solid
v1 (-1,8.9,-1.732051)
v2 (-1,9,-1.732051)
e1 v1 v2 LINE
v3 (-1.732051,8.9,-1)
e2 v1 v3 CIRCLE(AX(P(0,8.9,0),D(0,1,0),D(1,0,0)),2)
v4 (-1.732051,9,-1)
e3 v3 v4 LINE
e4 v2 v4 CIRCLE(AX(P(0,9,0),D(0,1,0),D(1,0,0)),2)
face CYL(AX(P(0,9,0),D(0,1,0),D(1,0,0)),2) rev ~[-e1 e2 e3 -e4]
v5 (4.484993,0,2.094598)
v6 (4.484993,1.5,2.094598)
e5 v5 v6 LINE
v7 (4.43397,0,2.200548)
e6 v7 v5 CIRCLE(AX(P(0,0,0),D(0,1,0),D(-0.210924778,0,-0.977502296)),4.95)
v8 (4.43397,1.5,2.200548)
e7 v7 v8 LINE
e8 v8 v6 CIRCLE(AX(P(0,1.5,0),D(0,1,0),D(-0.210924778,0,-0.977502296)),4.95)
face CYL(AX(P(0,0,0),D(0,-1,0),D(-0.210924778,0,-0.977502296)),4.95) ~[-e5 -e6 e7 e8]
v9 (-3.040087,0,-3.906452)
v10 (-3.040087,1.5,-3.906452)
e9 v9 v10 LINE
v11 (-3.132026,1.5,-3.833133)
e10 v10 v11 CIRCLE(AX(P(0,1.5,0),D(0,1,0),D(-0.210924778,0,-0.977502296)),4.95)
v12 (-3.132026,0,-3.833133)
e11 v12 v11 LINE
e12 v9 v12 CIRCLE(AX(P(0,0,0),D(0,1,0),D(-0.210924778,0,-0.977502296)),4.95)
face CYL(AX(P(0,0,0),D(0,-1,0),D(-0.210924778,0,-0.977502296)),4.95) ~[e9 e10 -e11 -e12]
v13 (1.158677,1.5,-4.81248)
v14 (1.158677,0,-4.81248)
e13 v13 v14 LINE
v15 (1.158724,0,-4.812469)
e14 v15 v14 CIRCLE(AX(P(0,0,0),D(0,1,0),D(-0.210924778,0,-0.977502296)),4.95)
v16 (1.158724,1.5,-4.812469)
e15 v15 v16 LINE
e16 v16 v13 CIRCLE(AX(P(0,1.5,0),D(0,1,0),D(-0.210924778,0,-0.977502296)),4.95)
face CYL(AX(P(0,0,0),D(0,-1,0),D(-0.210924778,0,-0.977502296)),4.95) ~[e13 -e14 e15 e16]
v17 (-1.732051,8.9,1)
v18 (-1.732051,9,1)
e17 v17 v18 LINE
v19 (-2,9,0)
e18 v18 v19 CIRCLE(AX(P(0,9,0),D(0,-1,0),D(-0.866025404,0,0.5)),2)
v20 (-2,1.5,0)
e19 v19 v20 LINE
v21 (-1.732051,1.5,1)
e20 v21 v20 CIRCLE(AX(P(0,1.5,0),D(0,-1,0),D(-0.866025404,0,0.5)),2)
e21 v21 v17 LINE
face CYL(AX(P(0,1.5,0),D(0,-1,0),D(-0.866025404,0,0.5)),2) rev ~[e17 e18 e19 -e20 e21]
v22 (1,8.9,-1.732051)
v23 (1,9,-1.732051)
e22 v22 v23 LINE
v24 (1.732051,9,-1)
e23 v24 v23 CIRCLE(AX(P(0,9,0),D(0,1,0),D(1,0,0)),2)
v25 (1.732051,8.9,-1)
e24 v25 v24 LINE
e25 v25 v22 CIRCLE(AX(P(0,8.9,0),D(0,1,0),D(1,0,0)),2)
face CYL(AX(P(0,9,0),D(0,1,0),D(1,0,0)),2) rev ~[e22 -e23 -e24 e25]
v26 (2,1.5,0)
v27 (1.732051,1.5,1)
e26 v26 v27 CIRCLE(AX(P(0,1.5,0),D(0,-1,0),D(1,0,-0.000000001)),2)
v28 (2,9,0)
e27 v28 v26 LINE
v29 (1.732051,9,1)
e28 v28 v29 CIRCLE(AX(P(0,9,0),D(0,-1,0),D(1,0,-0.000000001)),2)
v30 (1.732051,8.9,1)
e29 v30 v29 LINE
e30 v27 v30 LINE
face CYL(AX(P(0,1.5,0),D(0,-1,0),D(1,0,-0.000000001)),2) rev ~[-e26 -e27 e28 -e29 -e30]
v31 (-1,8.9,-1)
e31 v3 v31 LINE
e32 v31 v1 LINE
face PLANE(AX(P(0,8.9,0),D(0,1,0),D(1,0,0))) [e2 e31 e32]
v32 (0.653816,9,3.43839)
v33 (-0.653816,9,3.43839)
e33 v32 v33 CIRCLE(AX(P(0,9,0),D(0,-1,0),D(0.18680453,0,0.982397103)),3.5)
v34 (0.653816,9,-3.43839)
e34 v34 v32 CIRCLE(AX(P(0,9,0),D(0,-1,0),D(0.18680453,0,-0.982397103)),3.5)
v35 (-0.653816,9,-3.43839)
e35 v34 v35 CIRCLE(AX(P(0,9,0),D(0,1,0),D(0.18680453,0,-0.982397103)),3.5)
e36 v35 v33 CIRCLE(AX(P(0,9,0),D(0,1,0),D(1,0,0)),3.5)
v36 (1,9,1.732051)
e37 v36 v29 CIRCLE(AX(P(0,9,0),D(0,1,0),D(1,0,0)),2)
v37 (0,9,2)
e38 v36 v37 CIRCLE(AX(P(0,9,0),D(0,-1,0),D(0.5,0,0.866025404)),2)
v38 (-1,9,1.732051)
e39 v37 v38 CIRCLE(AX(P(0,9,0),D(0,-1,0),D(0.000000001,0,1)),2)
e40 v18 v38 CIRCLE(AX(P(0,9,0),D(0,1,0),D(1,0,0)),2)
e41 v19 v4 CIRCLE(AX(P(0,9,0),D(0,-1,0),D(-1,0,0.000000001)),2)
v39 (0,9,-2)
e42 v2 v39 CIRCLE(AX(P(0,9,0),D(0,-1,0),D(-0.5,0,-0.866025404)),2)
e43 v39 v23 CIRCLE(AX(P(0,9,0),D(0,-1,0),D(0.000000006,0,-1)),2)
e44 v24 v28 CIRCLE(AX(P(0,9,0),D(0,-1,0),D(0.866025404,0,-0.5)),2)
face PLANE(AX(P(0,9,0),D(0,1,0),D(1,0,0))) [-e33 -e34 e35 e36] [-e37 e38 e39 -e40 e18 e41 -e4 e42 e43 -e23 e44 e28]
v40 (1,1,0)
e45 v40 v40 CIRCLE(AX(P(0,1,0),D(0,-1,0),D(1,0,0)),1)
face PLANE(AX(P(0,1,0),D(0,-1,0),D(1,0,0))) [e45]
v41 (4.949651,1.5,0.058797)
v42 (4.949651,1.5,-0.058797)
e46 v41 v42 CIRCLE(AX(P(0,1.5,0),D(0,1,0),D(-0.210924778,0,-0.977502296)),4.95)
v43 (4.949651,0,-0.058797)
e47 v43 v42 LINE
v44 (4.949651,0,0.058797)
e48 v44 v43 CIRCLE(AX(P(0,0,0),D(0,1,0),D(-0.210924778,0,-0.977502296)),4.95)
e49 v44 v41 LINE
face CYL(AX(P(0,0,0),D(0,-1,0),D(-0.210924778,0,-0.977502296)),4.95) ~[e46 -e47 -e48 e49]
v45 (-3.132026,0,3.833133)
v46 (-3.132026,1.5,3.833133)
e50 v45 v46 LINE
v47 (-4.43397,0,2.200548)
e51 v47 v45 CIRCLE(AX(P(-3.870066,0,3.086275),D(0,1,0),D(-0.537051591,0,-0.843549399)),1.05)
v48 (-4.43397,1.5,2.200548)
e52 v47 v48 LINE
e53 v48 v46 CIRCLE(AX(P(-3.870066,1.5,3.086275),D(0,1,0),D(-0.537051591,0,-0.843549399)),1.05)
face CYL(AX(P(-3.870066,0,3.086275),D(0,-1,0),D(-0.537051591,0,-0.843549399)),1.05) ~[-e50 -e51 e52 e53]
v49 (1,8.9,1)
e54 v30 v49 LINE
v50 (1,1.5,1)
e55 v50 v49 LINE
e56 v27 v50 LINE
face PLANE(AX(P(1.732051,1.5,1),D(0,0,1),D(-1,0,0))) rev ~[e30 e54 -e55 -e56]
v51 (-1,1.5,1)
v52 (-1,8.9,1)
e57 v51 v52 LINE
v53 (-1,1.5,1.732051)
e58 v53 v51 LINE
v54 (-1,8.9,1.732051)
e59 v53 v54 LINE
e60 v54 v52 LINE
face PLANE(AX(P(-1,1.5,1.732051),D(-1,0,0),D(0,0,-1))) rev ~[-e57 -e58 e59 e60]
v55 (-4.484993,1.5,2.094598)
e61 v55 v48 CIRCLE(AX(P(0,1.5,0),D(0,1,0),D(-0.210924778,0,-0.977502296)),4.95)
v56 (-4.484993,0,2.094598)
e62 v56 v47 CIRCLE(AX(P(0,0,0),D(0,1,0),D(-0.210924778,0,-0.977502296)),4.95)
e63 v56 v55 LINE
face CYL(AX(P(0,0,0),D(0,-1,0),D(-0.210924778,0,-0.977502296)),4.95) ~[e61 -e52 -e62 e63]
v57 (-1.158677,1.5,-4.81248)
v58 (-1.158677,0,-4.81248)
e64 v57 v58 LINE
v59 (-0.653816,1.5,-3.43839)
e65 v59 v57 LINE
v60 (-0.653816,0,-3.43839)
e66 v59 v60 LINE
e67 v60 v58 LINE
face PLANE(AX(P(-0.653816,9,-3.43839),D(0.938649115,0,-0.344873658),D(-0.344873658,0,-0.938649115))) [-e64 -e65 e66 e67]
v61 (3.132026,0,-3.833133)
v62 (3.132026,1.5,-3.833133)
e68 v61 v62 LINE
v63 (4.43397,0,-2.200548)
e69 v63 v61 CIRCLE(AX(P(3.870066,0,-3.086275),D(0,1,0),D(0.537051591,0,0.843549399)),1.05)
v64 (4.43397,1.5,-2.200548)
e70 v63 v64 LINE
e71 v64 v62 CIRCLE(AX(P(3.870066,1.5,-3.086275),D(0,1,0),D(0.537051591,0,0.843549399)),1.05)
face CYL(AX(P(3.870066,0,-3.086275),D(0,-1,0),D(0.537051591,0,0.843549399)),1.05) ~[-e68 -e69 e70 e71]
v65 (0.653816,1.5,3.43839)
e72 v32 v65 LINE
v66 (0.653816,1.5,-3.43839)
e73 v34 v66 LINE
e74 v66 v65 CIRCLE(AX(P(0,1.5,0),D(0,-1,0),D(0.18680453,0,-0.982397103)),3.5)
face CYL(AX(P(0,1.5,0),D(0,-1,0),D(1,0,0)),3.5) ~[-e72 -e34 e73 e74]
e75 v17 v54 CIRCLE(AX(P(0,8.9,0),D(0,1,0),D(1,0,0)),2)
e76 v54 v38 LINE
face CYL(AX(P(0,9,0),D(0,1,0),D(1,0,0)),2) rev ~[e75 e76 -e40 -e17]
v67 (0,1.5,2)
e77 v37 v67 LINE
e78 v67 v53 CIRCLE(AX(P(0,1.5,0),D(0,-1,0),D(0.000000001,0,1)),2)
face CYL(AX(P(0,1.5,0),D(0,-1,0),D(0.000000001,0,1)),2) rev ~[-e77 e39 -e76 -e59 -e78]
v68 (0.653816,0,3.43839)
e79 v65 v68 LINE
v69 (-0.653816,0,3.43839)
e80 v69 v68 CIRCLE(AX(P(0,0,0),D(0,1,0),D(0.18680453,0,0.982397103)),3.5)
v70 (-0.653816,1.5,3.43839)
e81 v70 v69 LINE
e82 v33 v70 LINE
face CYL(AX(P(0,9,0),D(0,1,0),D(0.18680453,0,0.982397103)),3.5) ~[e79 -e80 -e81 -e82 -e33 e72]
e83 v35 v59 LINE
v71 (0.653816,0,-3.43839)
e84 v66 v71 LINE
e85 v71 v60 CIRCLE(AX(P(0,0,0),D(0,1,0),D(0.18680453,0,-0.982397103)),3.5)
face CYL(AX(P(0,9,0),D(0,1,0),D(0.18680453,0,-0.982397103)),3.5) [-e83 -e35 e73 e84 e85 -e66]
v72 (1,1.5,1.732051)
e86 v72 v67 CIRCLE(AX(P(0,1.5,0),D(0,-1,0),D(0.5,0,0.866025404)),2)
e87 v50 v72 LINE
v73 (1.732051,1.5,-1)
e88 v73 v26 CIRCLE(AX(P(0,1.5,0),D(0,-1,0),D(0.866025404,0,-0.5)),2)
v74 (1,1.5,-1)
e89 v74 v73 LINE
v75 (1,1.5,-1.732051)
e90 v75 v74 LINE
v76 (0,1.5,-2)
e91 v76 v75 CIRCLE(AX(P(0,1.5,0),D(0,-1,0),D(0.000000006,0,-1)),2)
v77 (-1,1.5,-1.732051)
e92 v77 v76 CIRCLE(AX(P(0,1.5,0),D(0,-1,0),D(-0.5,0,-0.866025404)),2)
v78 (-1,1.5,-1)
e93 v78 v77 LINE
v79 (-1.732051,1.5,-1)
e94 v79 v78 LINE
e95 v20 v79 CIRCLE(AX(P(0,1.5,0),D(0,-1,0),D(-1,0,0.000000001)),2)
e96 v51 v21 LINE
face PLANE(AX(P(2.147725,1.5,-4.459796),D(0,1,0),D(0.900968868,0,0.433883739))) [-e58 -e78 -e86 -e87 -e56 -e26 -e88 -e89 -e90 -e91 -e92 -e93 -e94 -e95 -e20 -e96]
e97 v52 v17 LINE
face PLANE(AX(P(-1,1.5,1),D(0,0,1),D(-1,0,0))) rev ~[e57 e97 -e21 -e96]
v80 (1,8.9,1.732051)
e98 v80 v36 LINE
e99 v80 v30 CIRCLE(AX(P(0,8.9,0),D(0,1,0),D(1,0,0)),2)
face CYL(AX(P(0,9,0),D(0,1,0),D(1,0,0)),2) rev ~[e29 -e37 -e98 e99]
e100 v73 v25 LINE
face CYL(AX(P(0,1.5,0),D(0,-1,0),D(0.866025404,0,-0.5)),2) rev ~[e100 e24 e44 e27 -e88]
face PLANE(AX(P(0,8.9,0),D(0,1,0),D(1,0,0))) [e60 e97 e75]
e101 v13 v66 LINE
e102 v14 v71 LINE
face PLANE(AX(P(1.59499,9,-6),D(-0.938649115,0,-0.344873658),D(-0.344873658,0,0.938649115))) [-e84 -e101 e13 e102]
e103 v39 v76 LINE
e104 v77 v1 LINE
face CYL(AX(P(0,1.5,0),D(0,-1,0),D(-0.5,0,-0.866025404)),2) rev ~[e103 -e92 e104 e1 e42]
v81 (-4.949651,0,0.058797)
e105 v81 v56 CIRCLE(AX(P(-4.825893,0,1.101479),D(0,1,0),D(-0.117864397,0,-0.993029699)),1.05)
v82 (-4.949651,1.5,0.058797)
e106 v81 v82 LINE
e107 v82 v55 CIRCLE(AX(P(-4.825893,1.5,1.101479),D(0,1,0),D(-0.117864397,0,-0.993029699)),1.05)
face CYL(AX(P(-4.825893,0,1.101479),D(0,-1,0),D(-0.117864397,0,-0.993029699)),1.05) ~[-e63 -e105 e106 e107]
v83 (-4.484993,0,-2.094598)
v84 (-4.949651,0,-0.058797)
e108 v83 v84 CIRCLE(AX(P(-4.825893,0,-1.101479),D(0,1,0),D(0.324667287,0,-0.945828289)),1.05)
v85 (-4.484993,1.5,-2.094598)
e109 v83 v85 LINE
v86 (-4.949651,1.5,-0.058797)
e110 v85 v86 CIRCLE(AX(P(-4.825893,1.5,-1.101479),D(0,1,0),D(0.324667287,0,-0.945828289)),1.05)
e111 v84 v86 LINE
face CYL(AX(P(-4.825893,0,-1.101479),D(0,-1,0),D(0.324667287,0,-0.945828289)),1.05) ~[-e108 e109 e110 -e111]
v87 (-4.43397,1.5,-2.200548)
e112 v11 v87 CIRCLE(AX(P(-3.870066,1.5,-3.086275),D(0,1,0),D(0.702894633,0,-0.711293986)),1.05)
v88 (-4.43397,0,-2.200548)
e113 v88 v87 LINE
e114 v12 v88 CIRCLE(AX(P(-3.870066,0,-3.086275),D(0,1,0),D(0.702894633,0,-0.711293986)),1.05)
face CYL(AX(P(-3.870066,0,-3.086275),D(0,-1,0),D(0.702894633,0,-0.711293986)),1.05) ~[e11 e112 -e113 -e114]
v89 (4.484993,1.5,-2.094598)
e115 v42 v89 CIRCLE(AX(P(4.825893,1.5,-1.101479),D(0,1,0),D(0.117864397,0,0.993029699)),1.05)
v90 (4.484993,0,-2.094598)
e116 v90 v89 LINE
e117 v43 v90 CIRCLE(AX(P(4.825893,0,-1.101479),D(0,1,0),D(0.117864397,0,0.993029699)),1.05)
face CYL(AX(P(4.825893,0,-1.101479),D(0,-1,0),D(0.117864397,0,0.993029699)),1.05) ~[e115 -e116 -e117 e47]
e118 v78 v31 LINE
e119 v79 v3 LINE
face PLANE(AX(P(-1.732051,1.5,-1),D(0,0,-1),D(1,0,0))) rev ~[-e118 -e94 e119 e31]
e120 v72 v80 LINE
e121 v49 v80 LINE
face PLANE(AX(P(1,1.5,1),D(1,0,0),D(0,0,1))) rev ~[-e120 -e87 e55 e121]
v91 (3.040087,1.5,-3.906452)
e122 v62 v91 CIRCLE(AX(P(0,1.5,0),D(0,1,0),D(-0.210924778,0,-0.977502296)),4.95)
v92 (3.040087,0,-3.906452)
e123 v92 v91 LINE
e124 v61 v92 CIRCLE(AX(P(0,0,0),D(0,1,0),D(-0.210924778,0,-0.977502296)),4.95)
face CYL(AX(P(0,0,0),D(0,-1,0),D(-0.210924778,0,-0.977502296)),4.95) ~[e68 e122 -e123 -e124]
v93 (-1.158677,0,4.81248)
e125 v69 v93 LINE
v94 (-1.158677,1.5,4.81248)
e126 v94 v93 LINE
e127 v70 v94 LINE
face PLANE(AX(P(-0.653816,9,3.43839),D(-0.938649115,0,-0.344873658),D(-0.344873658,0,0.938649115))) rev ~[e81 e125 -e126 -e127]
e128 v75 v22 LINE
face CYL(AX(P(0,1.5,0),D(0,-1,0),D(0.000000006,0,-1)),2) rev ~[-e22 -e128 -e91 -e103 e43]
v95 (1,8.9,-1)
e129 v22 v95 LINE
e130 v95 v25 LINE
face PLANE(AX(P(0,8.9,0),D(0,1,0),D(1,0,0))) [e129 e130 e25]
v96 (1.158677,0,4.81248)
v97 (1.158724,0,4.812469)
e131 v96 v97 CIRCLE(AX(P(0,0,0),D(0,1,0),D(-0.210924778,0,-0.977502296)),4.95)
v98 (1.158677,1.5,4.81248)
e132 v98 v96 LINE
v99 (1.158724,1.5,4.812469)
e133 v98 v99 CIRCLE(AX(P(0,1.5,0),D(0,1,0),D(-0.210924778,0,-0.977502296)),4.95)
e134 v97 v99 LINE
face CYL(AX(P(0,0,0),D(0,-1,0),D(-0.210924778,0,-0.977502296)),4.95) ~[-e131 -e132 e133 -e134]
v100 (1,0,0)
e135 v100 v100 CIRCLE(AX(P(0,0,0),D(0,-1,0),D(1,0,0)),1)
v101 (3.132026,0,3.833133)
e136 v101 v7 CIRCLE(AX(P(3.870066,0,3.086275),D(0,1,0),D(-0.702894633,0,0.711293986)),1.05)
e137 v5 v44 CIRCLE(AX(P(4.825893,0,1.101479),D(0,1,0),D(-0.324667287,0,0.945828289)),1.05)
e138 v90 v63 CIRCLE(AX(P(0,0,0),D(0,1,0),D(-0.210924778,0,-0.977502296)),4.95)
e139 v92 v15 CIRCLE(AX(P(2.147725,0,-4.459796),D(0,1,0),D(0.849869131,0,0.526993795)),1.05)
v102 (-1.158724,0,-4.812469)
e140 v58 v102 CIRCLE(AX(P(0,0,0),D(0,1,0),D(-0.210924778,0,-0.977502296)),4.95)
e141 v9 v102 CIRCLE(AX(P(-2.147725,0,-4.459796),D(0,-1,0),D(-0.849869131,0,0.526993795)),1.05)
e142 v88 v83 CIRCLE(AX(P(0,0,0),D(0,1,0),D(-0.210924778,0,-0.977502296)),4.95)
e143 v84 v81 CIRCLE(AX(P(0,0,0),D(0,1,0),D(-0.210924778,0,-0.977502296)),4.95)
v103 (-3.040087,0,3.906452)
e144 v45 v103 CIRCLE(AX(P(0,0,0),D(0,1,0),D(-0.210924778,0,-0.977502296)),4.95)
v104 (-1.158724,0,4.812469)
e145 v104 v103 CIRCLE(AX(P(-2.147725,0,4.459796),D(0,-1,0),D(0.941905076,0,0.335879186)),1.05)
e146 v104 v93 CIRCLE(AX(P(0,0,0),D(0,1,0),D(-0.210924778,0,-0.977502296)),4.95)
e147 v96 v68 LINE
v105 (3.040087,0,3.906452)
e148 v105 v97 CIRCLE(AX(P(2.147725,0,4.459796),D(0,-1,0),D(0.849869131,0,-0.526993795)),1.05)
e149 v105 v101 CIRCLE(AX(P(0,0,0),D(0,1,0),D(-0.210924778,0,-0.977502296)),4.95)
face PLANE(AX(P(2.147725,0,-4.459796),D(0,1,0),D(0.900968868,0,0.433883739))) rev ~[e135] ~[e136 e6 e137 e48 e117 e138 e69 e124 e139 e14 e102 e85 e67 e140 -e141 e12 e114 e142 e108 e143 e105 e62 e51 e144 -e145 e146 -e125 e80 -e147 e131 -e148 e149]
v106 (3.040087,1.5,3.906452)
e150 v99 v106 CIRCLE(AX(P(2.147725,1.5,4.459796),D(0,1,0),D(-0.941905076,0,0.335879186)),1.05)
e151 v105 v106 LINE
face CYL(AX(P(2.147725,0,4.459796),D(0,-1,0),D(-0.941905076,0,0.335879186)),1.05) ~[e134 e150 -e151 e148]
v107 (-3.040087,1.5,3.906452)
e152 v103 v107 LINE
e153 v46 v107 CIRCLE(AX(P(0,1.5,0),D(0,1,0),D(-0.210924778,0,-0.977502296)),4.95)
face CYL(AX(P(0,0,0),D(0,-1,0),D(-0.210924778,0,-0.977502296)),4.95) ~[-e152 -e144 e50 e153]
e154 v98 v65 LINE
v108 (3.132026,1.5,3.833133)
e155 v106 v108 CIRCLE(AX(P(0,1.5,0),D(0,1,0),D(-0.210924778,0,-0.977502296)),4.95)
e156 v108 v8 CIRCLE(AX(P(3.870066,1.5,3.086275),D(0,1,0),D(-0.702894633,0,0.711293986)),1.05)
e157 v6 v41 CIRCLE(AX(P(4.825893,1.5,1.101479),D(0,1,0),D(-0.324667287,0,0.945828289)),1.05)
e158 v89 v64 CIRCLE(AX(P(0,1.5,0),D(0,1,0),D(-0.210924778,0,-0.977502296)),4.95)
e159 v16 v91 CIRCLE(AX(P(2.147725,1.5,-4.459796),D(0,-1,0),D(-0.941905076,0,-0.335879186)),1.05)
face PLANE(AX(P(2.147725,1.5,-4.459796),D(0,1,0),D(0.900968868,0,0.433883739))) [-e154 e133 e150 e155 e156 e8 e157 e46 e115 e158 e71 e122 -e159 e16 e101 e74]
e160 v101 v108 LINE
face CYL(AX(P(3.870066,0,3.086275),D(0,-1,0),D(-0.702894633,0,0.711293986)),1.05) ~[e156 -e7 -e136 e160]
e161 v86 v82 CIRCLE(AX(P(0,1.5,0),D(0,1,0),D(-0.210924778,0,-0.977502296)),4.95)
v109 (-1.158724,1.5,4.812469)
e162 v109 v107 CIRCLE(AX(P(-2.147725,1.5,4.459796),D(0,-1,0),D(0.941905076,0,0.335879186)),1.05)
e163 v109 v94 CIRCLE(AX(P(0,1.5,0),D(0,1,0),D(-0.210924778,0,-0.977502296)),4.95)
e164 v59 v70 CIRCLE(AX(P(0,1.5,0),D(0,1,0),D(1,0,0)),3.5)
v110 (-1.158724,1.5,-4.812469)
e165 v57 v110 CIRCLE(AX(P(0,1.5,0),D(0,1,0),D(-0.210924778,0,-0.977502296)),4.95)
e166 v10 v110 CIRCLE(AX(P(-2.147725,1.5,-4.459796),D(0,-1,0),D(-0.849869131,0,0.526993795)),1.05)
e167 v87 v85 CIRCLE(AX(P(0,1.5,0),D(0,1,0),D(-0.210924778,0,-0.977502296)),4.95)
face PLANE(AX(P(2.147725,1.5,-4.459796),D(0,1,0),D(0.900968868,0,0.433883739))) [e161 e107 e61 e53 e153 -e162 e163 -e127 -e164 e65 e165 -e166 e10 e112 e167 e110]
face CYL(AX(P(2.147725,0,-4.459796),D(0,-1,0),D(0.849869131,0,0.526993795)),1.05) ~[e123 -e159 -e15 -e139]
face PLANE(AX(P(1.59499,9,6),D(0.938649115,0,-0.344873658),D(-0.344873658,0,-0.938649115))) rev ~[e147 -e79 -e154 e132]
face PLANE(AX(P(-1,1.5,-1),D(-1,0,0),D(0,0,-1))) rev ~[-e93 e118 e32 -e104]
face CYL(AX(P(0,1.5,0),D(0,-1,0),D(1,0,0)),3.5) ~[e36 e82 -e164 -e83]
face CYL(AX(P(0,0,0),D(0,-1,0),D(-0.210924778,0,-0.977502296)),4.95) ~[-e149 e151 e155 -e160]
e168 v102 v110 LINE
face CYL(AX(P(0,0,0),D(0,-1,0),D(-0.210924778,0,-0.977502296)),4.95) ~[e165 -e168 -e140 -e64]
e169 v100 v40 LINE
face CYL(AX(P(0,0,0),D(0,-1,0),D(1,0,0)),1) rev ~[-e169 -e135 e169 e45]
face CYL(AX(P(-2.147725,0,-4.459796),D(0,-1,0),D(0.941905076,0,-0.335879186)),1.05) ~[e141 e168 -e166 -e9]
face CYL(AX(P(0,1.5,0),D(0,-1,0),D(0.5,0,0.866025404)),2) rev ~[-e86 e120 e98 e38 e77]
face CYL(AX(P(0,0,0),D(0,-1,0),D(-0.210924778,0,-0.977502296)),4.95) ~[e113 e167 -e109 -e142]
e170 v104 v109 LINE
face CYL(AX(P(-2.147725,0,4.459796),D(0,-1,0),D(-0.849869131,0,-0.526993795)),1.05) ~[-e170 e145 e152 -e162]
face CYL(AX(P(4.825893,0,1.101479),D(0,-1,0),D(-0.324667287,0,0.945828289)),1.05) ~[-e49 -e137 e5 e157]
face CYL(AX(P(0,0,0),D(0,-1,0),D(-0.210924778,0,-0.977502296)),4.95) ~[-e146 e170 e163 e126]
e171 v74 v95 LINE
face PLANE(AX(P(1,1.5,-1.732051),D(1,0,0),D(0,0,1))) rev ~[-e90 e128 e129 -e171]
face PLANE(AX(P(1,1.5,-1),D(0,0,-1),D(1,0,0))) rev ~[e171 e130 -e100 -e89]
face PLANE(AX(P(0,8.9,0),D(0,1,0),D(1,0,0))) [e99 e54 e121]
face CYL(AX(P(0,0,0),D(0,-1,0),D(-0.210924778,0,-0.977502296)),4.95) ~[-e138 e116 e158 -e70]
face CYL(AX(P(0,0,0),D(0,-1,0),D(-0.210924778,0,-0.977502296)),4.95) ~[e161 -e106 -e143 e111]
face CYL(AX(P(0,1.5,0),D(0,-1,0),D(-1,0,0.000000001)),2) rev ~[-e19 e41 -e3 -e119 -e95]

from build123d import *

# Parameters (mm, degrees)
SKETCH1_R               = 1.05
SKETCH1_R_2             = 4.95
BOSS_EXTRUDE1_DEPTH     = 1.5
CIRPATTERN1_COUNT       = 14
SKETCH2_R               = 3.5
SKETCH2_R_2             = 2
SKETCH2_W               = 2
SKETCH2_H               = 4
SKETCH2_W_2             = 4
SKETCH2_H_2             = 2
BOSS_EXTRUDE2_DEPTH     = 7.5
SKETCH3_R               = 2
CUT_EXTRUDE1_DEPTH      = 0.1
SKETCH4_R               = 1
CUT_EXTRUDE2_DEPTH      = 1
CUT_EXTRUDE3_DEPTH      = 1
CUT_EXTRUDE3_DEPTH_BACK = 10


with BuildPart() as part:
    # Sketch1 → Boss-Extrude1 (new body)
    with BuildSketch(Plane(origin=(0, 0, 0), x_dir=(1, 0, 0), z_dir=(0, 1, 0))):
        with Locations((0, 4.95)):
            Circle(SKETCH1_R)
        Circle(SKETCH1_R_2)
    boss_extrude1 = extrude(amount=BOSS_EXTRUDE1_DEPTH)

    # CirPattern1: Boss-Extrude1 ×14 about axis
    cirpattern1_axis = Axis((0, 0, 0), (0, 1, 0))
    for i in range(1, CIRPATTERN1_COUNT):
        add(boss_extrude1.rotate(cirpattern1_axis, i * 360 / CIRPATTERN1_COUNT))

    # Sketch2 → Boss-Extrude2 (add)
    with BuildSketch(Plane(origin=(0, 1.5, 0), x_dir=(1, 0, 0), z_dir=(0, 1, 0))):
        Circle(SKETCH2_R)
        Circle(SKETCH2_R_2, mode=Mode.SUBTRACT)
        Rectangle(SKETCH2_W, SKETCH2_H, mode=Mode.SUBTRACT)
        Rectangle(SKETCH2_W_2, SKETCH2_H_2, mode=Mode.SUBTRACT)
        with BuildLine():
            ThreePointArc((-1, 1.732050808), (-0.517638086, 1.931851654), (9e-09, 2))
            Line((9e-09, 2), (-1, 2))
            Line((-1, 2), (-1, 1.732050808))
        make_face()
        with BuildLine():
            Line((1, 1.732050808), (1, 2))
            Line((1, 2), (9e-09, 2))
            ThreePointArc((9e-09, 2), (0.517638095, 1.931851651), (1, 1.732050808))
        make_face()
        with BuildLine():
            Line((2, 1), (1.732050808, 1))
            ThreePointArc((1.732050808, 1), (1.931851653, 0.51763809), (2, 0))
            Line((2, 0), (2, 1))
        make_face()
        with BuildLine():
            ThreePointArc((1.732050808, 1), (1.414213562, 1.414213562), (1, 1.732050808))
            Line((1, 1.732050808), (1, 1))
            Line((1, 1), (1.732050808, 1))
        make_face()
        with BuildLine():
            Line((-1, 1), (-1, 1.732050808))
            ThreePointArc((-1, 1.732050808), (-1.414213562, 1.414213562), (-1.732050808, 1))
            Line((-1.732050808, 1), (-1, 1))
        make_face()
        with BuildLine():
            ThreePointArc((-2, 0), (-1.931851653, 0.51763809), (-1.732050808, 1))
            Line((-1.732050808, 1), (-2, 1))
            Line((-2, 1), (-2, 0))
        make_face()
        with BuildLine():
            ThreePointArc((-1.732050808, -1), (-1.931851653, -0.51763809), (-2, 0))
            Line((-2, 0), (-2, -1))
            Line((-2, -1), (-1.732050808, -1))
        make_face()
        with BuildLine():
            Line((-1, -1.732050808), (-1, -1))
            Line((-1, -1), (-1.732050808, -1))
            ThreePointArc((-1.732050808, -1), (-1.414213562, -1.414213562), (-1, -1.732050808))
        make_face()
        with BuildLine():
            ThreePointArc((0, -2), (-0.51763809, -1.931851653), (-1, -1.732050808))
            Line((-1, -1.732050808), (-1, -2))
            Line((-1, -2), (0, -2))
        make_face()
        with BuildLine():
            Line((1, -2), (1, -1.732050808))
            ThreePointArc((1, -1.732050808), (0.51763809, -1.931851653), (0, -2))
            Line((0, -2), (1, -2))
        make_face()
        with BuildLine():
            Line((1.732050808, -1), (1, -1))
            Line((1, -1), (1, -1.732050808))
            ThreePointArc((1, -1.732050808), (1.414213562, -1.414213562), (1.732050808, -1))
        make_face()
        with BuildLine():
            Line((2, -1), (2, 0))
            ThreePointArc((2, 0), (1.931851653, -0.51763809), (1.732050808, -1))
            Line((1.732050808, -1), (2, -1))
        make_face()
    extrude(amount=BOSS_EXTRUDE2_DEPTH)

    # Sketch3 → Cut-Extrude1 (cut)
    with BuildSketch(Plane(origin=(0, 9, 0), x_dir=(1, 0, 0), z_dir=(0, 1, 0))):
        Circle(SKETCH3_R)
    extrude(amount=-CUT_EXTRUDE1_DEPTH, mode=Mode.SUBTRACT)

    # Sketch4 → Cut-Extrude2 (cut)
    with BuildSketch(Plane.XZ):
        Circle(SKETCH4_R)
    extrude(amount=-CUT_EXTRUDE2_DEPTH, mode=Mode.SUBTRACT)

    # Sketch5 → Cut-Extrude3 (cut, two sides)
    with BuildSketch(Plane(origin=(0, 9, 0), x_dir=(1, 0, 0), z_dir=(0, 1, 0))) as cut_extrude3_sk:
        with BuildLine():
            Line((-1.594989552, 6), (1.594989552, 6))
            Line((1.594989552, 6), (0.653815854, 3.43838986))
            ThreePointArc((0.653815854, 3.43838986), (0, 3.5), (-0.653815854, 3.43838986))
            Line((-0.653815854, 3.43838986), (-1.594989552, 6))
        make_face()
        with BuildLine():
            Line((1.594989552, -6), (0.653815854, -3.43838986))
            ThreePointArc((0.653815854, -3.43838986), (0, -3.5), (-0.653815854, -3.43838986))
            Line((-0.653815854, -3.43838986), (-1.594989552, -6))
            Line((-1.594989552, -6), (1.594989552, -6))
        make_face()
    extrude(amount=CUT_EXTRUDE3_DEPTH, mode=Mode.SUBTRACT)
    extrude(cut_extrude3_sk.sketch, amount=-CUT_EXTRUDE3_DEPTH_BACK, mode=Mode.SUBTRACT)


solid = part.part
